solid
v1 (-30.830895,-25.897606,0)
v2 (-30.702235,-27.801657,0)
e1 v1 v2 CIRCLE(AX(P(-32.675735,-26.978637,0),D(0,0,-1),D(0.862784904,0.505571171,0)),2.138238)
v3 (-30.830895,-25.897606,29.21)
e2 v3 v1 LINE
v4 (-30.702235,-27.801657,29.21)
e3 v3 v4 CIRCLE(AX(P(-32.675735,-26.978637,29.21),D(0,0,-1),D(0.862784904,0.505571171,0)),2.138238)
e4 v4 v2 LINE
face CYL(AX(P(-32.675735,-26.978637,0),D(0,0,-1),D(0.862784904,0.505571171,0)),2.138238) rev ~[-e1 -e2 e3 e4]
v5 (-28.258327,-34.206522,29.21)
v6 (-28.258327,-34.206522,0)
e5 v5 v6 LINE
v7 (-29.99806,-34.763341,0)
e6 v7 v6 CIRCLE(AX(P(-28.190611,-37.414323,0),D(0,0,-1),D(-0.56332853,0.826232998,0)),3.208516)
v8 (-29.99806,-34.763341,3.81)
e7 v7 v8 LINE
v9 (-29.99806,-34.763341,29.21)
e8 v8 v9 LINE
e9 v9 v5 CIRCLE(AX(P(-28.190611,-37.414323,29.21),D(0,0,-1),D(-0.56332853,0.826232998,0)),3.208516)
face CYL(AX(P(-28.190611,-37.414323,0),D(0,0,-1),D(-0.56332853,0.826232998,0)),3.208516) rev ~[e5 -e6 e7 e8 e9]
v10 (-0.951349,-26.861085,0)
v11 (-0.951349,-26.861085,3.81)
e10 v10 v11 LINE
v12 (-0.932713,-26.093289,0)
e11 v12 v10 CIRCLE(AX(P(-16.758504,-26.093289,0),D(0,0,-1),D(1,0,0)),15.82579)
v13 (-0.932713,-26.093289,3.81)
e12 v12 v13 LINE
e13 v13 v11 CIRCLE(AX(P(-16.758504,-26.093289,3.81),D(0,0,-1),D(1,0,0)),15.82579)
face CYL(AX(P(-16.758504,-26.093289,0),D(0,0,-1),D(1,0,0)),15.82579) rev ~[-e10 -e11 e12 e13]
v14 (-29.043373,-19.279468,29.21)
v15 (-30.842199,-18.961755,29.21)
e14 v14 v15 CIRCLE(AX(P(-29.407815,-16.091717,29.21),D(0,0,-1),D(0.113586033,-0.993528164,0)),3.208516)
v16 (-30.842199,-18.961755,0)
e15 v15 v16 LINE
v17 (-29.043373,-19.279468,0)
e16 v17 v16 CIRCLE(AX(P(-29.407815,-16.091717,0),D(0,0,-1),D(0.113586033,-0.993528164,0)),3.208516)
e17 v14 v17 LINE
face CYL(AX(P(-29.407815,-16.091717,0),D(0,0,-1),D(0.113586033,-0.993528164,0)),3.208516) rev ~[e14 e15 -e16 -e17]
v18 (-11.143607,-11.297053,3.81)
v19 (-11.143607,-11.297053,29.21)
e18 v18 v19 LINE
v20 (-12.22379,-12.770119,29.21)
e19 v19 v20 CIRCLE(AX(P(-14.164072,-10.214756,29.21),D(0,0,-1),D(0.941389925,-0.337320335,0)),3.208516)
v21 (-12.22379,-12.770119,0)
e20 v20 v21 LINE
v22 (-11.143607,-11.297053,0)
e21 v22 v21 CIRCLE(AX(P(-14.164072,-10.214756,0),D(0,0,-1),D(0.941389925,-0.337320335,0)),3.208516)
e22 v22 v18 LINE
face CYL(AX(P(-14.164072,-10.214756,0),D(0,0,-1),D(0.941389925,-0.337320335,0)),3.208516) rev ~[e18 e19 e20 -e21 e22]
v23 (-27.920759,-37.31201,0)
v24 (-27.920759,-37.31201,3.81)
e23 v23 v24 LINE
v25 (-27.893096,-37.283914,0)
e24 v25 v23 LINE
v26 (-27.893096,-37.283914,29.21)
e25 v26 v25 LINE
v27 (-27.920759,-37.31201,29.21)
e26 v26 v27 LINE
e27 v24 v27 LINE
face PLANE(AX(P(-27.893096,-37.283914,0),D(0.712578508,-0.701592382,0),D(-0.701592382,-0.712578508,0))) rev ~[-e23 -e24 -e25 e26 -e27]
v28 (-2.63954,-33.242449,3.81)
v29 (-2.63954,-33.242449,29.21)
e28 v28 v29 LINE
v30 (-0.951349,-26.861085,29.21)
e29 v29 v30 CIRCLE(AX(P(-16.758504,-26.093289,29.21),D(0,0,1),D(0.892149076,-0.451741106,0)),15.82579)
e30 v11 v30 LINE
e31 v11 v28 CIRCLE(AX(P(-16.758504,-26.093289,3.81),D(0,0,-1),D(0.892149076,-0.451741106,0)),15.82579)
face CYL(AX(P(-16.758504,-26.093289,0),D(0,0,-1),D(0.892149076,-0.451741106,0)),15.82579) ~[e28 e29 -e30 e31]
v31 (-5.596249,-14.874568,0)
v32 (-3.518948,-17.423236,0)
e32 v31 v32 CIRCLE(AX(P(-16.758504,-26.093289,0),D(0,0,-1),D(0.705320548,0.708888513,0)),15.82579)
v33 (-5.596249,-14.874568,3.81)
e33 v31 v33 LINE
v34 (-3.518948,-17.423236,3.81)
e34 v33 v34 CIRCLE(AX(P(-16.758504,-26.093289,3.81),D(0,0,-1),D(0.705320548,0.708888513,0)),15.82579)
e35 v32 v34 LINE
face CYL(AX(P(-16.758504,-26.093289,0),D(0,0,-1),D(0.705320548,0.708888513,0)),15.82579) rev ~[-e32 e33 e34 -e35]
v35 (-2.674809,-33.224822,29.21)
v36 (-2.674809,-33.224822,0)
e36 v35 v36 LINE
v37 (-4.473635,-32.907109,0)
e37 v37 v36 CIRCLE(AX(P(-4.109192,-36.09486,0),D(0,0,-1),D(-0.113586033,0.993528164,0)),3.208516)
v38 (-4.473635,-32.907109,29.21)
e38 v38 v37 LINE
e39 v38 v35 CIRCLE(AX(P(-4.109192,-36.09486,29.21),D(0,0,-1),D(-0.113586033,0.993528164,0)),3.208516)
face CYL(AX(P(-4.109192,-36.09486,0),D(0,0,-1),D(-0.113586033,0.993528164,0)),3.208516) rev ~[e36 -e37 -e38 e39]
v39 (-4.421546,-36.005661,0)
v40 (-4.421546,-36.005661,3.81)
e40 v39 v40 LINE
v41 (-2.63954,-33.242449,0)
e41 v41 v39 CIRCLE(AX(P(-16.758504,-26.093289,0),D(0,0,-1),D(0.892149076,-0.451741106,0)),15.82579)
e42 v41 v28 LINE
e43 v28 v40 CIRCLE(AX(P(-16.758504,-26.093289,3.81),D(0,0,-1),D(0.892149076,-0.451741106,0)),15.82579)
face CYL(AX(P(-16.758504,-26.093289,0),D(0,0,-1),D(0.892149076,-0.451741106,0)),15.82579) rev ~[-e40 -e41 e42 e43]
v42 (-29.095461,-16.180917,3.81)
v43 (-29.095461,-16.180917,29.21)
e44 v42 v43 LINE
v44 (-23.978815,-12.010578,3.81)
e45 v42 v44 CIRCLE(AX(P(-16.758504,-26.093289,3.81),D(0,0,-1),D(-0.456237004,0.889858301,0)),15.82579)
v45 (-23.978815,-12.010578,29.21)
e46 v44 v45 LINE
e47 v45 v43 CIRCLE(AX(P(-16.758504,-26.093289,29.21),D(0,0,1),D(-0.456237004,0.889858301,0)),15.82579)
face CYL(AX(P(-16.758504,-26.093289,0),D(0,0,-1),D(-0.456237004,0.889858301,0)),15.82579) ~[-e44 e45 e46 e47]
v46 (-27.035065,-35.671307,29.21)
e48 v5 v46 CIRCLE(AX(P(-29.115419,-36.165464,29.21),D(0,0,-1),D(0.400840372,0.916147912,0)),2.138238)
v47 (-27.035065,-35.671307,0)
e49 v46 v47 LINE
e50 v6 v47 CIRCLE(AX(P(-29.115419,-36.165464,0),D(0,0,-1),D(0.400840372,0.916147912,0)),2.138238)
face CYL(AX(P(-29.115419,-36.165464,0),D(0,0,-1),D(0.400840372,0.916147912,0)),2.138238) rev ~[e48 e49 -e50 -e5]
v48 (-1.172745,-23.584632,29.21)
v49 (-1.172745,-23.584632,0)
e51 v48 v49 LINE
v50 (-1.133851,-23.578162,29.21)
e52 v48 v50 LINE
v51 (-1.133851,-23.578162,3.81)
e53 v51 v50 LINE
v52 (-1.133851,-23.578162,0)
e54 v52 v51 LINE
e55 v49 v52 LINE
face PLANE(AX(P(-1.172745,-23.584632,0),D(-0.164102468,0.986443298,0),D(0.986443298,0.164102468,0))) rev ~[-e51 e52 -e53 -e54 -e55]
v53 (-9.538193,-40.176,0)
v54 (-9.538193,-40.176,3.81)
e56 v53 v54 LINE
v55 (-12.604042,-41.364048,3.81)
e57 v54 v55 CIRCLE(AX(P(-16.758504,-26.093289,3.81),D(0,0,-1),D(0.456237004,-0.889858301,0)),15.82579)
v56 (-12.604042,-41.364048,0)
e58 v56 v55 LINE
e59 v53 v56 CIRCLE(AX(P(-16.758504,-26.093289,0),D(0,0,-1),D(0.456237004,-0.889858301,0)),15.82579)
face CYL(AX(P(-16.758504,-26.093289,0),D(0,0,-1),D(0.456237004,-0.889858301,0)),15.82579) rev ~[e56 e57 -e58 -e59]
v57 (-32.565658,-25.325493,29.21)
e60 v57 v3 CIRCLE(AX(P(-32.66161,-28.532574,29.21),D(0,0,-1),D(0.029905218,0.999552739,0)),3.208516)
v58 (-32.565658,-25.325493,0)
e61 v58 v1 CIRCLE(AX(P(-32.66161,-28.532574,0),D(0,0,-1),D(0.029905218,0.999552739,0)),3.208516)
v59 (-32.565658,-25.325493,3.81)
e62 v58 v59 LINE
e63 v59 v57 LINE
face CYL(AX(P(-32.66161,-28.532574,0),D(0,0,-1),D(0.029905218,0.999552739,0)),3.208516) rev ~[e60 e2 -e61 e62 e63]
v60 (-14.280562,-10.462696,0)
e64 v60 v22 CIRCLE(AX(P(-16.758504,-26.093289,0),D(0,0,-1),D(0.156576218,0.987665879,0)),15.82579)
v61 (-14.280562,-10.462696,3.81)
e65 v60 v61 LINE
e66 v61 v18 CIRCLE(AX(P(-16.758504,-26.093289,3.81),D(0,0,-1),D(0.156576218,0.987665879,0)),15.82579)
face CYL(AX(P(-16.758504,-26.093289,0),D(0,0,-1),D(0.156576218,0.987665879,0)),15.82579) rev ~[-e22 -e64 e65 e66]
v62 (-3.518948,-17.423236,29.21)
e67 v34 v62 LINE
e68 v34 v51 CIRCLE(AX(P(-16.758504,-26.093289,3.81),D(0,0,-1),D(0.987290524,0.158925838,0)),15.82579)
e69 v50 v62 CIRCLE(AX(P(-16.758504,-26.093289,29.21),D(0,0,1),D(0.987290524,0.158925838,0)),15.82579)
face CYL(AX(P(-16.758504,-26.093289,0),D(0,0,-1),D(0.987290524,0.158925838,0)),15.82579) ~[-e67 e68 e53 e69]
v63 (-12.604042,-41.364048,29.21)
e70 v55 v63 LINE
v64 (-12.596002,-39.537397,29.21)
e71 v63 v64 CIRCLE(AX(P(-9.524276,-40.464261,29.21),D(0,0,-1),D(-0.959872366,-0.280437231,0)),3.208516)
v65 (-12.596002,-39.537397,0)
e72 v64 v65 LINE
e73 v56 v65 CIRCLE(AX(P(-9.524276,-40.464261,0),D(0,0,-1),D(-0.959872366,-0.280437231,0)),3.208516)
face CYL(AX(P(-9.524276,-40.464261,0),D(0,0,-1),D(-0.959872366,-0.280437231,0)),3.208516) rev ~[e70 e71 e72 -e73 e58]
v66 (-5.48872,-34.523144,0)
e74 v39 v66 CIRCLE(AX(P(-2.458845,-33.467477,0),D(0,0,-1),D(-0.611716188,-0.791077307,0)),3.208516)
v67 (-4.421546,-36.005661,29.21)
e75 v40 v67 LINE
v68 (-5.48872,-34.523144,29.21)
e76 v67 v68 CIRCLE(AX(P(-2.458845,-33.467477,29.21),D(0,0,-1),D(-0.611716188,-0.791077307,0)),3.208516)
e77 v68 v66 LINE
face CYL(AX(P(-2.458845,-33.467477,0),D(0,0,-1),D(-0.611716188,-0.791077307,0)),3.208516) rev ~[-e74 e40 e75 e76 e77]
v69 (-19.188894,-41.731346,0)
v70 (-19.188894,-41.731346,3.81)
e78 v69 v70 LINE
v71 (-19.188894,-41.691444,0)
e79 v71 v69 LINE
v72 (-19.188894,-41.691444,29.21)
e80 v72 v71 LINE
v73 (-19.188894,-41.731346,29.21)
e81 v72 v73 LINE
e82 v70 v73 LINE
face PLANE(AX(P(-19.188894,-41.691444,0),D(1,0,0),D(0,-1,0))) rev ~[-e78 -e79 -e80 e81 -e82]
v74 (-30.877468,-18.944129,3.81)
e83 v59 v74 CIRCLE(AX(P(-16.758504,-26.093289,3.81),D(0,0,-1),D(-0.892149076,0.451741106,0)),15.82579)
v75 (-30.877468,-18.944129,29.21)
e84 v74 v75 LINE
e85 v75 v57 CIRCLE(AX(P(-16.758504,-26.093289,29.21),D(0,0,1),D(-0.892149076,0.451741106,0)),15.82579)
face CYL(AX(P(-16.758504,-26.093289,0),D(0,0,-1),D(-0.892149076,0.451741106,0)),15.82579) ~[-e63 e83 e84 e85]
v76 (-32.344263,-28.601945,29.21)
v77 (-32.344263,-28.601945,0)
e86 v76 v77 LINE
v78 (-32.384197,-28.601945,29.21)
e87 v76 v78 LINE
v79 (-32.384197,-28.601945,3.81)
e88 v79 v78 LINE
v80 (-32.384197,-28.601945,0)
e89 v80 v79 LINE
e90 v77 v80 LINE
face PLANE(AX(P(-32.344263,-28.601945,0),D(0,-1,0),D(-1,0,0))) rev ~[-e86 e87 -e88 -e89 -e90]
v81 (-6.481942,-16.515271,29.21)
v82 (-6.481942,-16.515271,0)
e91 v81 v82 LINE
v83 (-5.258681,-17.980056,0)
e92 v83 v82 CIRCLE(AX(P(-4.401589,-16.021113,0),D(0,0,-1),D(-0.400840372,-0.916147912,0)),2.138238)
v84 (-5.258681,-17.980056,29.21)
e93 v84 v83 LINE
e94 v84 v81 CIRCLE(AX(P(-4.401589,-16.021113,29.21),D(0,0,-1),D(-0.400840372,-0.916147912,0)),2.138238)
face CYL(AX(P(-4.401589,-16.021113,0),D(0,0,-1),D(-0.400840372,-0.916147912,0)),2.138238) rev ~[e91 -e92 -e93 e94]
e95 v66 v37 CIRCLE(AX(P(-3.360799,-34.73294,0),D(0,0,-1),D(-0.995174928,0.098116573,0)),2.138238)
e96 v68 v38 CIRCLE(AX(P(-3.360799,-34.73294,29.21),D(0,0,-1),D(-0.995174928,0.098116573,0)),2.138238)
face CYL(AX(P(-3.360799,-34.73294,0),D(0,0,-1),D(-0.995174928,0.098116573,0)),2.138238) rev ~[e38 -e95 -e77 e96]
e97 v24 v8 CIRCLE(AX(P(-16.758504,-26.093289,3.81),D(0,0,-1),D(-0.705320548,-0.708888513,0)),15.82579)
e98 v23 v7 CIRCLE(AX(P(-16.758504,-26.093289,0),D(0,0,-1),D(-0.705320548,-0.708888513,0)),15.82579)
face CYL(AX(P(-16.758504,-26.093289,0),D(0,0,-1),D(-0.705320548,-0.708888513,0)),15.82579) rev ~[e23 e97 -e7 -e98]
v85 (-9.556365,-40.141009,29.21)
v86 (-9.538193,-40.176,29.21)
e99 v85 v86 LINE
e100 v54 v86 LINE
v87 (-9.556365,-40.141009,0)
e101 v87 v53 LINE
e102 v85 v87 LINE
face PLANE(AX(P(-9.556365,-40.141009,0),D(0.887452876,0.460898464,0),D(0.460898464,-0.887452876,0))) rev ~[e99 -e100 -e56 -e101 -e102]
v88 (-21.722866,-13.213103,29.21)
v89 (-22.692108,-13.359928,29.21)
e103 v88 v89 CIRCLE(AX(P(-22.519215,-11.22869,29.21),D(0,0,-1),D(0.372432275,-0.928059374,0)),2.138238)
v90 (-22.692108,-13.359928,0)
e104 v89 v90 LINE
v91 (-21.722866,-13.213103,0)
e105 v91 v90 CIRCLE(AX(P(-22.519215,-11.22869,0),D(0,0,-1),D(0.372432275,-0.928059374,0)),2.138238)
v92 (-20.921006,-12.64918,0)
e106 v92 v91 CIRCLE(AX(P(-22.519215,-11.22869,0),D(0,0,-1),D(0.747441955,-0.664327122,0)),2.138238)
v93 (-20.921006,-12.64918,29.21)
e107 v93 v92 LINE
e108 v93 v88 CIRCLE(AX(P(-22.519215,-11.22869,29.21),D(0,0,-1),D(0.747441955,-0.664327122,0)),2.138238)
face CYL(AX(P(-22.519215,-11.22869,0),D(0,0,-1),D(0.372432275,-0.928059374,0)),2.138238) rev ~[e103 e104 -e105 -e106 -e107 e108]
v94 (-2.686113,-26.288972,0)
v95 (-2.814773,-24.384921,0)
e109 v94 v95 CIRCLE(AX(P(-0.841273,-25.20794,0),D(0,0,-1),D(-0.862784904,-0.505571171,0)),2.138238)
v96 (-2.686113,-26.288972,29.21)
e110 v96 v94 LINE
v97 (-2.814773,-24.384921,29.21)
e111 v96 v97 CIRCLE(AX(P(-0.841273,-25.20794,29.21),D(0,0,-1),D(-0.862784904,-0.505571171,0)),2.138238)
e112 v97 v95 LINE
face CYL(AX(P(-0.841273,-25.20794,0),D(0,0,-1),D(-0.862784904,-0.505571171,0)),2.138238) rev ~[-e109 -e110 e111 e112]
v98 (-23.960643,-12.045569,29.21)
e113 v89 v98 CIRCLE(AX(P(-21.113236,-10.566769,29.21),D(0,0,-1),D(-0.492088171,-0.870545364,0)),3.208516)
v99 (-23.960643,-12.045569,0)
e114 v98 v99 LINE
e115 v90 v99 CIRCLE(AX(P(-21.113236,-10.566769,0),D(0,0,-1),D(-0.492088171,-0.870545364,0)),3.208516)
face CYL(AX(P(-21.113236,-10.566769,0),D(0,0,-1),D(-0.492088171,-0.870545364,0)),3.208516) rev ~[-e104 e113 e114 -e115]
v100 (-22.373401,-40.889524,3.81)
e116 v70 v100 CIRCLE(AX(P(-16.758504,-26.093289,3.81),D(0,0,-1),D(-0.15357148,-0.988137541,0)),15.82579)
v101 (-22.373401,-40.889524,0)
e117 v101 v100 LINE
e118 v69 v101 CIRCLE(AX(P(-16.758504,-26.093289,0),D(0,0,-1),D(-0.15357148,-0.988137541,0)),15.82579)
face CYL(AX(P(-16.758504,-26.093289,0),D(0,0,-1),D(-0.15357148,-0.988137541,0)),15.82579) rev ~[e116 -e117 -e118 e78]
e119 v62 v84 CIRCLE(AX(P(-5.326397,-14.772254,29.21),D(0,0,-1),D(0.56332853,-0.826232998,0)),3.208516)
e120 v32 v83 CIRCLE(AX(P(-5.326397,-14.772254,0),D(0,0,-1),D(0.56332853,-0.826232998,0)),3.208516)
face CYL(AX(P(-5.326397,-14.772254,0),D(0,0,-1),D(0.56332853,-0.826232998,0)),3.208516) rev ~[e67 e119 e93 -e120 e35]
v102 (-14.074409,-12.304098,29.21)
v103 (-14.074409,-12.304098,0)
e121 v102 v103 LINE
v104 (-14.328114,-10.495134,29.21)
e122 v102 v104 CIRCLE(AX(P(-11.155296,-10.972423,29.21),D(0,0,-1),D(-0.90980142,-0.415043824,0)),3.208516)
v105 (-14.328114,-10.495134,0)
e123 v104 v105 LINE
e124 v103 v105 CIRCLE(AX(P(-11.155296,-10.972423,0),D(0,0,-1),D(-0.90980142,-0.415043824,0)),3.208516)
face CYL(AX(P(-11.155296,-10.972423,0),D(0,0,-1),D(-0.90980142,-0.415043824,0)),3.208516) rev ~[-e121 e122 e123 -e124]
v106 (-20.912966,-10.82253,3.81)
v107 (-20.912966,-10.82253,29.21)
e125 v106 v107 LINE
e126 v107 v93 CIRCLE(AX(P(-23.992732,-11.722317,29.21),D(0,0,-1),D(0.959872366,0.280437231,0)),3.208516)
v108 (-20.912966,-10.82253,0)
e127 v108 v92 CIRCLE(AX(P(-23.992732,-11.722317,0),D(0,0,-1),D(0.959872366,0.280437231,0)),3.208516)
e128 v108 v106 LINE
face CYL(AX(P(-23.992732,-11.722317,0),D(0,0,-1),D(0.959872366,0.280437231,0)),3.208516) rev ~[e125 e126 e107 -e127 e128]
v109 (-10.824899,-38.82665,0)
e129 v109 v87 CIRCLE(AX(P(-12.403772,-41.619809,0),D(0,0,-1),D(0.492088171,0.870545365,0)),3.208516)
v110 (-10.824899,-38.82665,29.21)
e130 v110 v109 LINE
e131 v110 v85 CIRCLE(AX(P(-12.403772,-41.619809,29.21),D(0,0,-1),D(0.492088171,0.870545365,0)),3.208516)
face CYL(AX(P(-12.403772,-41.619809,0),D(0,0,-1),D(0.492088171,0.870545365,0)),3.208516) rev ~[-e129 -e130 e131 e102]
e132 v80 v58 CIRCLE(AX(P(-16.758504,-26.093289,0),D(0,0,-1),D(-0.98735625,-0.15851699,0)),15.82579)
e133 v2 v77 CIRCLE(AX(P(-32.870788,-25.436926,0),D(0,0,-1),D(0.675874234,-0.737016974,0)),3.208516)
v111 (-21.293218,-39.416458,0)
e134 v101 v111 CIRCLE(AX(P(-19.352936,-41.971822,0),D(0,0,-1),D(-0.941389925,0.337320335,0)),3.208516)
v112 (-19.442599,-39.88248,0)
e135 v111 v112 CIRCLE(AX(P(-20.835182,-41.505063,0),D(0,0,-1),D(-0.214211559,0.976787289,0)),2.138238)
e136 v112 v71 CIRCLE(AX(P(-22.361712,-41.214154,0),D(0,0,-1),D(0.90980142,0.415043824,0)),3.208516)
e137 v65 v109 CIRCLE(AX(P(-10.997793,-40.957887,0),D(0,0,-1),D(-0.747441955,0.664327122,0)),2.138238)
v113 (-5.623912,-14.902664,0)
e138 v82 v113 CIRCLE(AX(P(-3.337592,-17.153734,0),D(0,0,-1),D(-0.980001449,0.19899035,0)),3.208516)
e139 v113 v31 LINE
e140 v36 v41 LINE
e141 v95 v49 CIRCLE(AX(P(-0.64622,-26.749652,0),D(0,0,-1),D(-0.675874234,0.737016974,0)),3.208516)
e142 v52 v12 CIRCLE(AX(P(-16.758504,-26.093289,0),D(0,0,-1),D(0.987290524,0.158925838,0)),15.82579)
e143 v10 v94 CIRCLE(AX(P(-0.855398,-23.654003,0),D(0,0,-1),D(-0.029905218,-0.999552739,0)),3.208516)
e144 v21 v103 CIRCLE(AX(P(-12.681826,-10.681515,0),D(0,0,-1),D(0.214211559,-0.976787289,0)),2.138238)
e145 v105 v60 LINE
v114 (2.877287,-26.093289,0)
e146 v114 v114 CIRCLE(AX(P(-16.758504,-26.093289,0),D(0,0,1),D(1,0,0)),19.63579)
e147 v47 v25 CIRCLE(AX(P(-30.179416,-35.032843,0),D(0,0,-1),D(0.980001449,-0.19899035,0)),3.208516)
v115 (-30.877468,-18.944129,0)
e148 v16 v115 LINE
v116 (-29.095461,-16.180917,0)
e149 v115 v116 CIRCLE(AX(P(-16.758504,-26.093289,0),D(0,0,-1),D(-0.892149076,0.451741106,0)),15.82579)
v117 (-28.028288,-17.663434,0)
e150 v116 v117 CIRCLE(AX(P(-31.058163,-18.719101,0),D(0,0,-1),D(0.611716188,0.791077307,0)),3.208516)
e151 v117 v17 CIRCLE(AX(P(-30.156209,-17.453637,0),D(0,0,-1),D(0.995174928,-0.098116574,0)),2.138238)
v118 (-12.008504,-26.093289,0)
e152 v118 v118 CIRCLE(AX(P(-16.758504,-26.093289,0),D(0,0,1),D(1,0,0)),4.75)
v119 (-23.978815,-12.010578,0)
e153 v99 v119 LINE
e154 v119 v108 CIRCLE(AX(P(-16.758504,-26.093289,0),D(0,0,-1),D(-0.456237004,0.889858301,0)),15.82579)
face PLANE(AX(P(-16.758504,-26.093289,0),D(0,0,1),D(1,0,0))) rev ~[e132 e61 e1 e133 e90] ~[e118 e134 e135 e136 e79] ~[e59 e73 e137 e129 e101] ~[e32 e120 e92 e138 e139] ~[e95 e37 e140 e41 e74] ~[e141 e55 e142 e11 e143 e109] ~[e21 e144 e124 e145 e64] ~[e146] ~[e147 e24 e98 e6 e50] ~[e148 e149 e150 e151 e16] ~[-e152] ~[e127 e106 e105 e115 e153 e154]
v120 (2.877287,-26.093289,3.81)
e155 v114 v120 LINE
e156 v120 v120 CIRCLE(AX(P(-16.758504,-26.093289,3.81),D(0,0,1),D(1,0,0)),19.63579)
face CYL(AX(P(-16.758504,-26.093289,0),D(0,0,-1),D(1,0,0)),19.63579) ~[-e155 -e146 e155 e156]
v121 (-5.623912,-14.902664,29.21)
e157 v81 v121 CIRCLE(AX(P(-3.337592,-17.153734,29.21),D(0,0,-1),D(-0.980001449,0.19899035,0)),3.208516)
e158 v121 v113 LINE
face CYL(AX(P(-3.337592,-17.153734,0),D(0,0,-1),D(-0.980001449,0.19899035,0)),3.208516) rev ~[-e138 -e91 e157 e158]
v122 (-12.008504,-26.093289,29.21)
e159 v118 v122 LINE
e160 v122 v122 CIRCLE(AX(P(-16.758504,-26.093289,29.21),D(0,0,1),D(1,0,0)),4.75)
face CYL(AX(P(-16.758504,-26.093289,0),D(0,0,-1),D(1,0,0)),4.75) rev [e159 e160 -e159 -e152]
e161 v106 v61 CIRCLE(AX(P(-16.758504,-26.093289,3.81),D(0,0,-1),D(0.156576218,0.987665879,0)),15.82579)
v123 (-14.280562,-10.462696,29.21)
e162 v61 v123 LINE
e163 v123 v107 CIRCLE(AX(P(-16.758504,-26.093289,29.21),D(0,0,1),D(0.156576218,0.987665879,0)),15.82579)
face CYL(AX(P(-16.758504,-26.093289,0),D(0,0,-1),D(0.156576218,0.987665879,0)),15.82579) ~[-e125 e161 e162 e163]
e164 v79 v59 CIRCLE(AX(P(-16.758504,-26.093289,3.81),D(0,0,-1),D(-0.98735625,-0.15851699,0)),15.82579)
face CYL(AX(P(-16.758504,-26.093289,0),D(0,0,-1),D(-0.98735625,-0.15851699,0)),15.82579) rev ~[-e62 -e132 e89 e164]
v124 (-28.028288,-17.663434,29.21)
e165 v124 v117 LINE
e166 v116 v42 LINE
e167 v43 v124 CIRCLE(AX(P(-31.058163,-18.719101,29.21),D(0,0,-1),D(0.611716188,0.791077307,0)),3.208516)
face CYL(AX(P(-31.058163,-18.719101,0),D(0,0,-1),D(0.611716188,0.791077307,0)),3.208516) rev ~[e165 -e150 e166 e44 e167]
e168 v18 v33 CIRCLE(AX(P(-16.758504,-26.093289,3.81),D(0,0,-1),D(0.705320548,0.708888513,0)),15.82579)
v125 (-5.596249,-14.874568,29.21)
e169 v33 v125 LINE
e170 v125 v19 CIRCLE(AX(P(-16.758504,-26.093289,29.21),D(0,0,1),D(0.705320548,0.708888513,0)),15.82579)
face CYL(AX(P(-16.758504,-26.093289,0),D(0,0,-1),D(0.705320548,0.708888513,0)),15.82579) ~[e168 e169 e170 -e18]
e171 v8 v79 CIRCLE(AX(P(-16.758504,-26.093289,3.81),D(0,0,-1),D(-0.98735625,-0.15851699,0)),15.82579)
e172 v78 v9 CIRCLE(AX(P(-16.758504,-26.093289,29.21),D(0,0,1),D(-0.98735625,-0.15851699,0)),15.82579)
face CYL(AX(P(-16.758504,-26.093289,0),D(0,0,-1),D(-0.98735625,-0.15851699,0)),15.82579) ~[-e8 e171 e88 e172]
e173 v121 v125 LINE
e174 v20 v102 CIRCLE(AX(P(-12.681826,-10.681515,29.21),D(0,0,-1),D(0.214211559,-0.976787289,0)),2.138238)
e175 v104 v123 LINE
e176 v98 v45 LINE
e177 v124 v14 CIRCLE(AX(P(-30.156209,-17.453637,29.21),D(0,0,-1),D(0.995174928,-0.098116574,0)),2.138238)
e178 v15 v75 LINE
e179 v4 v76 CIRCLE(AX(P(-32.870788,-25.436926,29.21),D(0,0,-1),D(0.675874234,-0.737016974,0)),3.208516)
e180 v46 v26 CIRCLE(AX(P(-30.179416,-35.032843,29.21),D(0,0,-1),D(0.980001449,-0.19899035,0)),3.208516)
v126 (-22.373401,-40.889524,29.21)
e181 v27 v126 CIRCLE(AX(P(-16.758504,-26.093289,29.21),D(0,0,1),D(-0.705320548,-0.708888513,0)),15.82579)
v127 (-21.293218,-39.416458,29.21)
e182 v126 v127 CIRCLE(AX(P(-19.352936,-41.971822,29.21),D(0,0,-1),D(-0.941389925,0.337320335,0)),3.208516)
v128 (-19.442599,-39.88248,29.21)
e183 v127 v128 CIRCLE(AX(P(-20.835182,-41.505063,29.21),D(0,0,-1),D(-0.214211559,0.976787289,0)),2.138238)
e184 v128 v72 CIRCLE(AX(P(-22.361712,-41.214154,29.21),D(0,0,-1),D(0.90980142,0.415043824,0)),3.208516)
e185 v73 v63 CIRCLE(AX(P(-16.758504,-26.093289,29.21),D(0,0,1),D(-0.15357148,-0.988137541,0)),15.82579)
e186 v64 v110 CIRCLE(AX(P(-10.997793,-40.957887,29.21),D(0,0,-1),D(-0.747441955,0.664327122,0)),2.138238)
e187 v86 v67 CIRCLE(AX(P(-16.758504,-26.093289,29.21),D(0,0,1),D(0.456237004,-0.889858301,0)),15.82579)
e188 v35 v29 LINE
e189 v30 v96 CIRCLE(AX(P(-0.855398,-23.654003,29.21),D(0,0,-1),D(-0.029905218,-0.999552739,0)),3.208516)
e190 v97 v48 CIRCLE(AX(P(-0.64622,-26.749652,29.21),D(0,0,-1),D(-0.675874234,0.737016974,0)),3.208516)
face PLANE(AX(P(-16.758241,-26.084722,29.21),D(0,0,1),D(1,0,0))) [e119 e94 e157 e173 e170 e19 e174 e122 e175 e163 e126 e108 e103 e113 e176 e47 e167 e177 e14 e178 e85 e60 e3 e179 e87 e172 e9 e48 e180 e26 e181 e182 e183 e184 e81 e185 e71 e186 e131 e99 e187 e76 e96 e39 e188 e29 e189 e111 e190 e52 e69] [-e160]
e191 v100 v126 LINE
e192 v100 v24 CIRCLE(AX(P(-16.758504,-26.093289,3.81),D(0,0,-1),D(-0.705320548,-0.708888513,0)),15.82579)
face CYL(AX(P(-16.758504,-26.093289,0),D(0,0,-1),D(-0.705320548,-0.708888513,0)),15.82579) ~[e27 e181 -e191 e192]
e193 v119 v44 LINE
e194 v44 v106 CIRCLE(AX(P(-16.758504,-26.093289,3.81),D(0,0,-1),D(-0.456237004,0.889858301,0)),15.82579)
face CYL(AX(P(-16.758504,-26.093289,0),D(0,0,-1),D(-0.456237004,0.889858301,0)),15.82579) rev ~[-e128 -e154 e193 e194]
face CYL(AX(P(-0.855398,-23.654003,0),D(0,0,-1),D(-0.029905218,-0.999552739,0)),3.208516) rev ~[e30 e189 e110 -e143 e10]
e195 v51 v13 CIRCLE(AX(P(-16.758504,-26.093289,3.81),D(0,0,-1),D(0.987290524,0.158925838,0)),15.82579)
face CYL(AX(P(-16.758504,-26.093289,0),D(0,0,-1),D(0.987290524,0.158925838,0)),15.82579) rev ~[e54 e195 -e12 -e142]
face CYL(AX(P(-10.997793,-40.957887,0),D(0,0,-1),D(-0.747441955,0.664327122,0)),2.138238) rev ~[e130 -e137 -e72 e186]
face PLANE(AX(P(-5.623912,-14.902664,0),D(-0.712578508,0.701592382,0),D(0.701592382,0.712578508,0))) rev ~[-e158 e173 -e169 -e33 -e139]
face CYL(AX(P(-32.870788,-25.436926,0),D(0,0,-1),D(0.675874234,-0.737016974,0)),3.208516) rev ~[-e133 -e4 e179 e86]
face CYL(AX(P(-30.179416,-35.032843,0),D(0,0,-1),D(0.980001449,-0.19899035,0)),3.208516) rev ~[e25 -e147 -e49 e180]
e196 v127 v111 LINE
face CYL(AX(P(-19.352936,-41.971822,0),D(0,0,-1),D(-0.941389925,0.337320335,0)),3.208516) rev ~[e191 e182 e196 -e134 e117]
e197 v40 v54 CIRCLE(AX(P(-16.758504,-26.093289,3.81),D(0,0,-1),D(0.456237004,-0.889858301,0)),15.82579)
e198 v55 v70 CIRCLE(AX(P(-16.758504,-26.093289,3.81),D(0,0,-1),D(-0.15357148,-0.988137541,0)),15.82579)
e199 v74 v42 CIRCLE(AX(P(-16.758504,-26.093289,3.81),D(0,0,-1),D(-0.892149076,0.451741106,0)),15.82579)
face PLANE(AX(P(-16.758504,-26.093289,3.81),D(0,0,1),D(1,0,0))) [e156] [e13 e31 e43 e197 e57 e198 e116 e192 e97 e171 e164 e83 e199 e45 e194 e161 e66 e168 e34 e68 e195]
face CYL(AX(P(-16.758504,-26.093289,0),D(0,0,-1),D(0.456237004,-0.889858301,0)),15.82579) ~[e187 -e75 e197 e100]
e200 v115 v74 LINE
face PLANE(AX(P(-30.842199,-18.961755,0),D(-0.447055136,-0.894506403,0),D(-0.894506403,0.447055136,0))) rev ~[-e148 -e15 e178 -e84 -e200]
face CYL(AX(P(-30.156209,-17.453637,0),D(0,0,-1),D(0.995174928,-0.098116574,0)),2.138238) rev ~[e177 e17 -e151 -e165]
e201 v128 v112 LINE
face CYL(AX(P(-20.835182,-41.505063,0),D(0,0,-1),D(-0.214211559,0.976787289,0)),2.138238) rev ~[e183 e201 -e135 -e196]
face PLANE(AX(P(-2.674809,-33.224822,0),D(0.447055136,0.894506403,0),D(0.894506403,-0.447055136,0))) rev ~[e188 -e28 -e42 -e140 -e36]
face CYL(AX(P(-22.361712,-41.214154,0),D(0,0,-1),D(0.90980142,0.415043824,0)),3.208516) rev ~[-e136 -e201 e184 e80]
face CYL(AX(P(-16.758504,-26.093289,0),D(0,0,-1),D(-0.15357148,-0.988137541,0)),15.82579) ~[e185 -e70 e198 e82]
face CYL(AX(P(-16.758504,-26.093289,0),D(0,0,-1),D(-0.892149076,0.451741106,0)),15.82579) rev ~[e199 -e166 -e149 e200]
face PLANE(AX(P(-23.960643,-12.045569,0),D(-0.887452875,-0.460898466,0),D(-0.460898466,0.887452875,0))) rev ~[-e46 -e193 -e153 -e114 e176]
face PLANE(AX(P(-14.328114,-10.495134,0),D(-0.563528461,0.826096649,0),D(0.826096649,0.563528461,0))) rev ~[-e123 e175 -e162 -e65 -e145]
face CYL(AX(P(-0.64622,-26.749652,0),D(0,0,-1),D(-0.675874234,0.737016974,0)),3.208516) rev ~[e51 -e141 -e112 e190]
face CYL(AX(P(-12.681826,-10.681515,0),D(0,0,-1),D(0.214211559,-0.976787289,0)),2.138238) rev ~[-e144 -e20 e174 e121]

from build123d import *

# Parameters (mm, degrees)
F0_R     = 19.635790459
F0_R_2   = 12.015790459
F0_R_3   = 4.75
F1_DEPTH = 3.81
F2_DEPTH = 29.21


with BuildPart() as f1:
    # F0 (on Top) → F1 (new body)
    with BuildSketch(Plane.XY):
        with Locations((-16.7585039379, -26.0932887787)):
            Circle(F0_R)
        with BuildLine():
            ThreePointArc((-29.0954614281, -16.180916533), (-26.7569848864, -13.826014331), (-23.9788151651, -12.0105777671))
            ThreePointArc((-23.9788151651, -12.0105777671), (-22.476828118, -11.336716947), (-20.9129659851, -10.8225295065))
            ThreePointArc((-20.9129659851, -10.8225295065), (-17.6158542996, -10.2907385412), (-14.2805615256, -10.4626955381))
            ThreePointArc((-14.2805615256, -10.4626955381), (-12.6906360083, -10.7992345693), (-11.1436072451, -11.2970534879))
            ThreePointArc((-11.1436072451, -11.2970534879), (-8.1813331682, -12.7933720406), (-5.5962487371, -14.874567707))
            ThreePointArc((-5.5962487371, -14.874567707), (-4.4912294901, -16.0948078302), (-3.5189481983, -17.4232364448))
            ThreePointArc((-3.5189481983, -17.4232364448), (-2.0019321061, -20.3749645986), (-1.1338509893, -23.5781617659))
            ThreePointArc((-1.1338509893, -23.5781617659), (-0.9830779973, -24.8317103835), (-0.9327134788, -26.0932887787))
            ThreePointArc((-0.9327134788, -26.0932887787), (-0.9373731571, -26.4772998105), (-0.9513494481, -26.8610847091))
            ThreePointArc((-0.9513494481, -26.8610847091), (-1.4590399264, -30.1407626347), (-2.6395396055, -33.2424488576))
            ThreePointArc((-2.6395396055, -33.2424488576), (-3.4585871997, -34.6704595484), (-4.4215464476, -36.0056610244))
            ThreePointArc((-4.4215464476, -36.0056610244), (-6.7600229894, -38.3605632264), (-9.5381927107, -40.1759997903))
            ThreePointArc((-9.5381927107, -40.1759997903), (-11.0401797578, -40.8498606104), (-12.6040418906, -41.364048051))
            ThreePointArc((-12.6040418906, -41.364048051), (-15.8771225924, -41.8945169138), (-19.1888940058, -41.7313464513))
            ThreePointArc((-19.1888940058, -41.7313464513), (-20.8031084916, -41.3935115763), (-22.3734006307, -40.8895240696))
            ThreePointArc((-22.3734006307, -40.8895240696), (-25.3356747075, -39.3932055169), (-27.9207591387, -37.3120098505))
            ThreePointArc((-27.9207591387, -37.3120098505), (-29.0257783856, -36.0917697272), (-29.9980596774, -34.7633411126))
            ThreePointArc((-29.9980596774, -34.7633411126), (-31.5162594242, -31.8085575091), (-32.3841970537, -28.6019454517))
            ThreePointArc((-32.3841970537, -28.6019454517), (-32.5600786241, -26.968435103), (-32.5656584276, -25.3254928483))
            ThreePointArc((-32.5656584276, -25.3254928483), (-32.0579679493, -22.0458149227), (-30.8774682703, -18.9441286998))
            ThreePointArc((-30.8774682703, -18.9441286998), (-30.058420676, -17.516118009), (-29.0954614281, -16.180916533))
        make_face(mode=Mode.SUBTRACT)
        with BuildLine():
            ThreePointArc((-22.6921084548, -13.3599276036), (-23.4218873645, -12.7949300931), (-23.9606425579, -12.0455688415))
            Line((-23.9606425579, -12.0455688415), (-23.9788151651, -12.0105777671))
            ThreePointArc((-23.9788151651, -12.0105777671), (-26.7569848864, -13.826014331), (-29.0954614281, -16.180916533))
            ThreePointArc((-29.0954614281, -16.180916533), (-28.4541428865, -16.8446257856), (-28.0282875658, -17.6634338766))
            ThreePointArc((-28.0282875658, -17.6634338766), (-28.345540736, -18.5909782757), (-29.0433727408, -19.2794684205))
            ThreePointArc((-29.0433727408, -19.2794684205), (-29.9658734851, -19.2513291133), (-30.8421990848, -18.9617554831))
            Line((-30.8421990848, -18.9617554831), (-30.8774682703, -18.9441286998))
            ThreePointArc((-30.8774682703, -18.9441286998), (-32.0579679493, -22.0458149227), (-32.5656584276, -25.3254928483))
            ThreePointArc((-32.5656584276, -25.3254928483), (-31.6567023181, -25.4854873322), (-30.8308948063, -25.8976055158))
            ThreePointArc((-30.8308948063, -25.8976055158), (-30.5423610938, -26.8344814324), (-30.7022346915, -27.801657021))
            ThreePointArc((-30.7022346915, -27.801657021), (-31.4650933407, -28.321124176), (-32.3442627527, -28.6019454517))
            Line((-32.3442627527, -28.6019454517), (-32.3841970537, -28.6019454517))
            ThreePointArc((-32.3841970537, -28.6019454517), (-31.5162594242, -31.8085575091), (-29.9980596774, -34.7633411126))
            ThreePointArc((-29.9980596774, -34.7633411126), (-29.1686563396, -34.3585083729), (-28.2583270379, -34.2065215104))
            ThreePointArc((-28.2583270379, -34.2065215104), (-27.4742165141, -34.7948741876), (-27.0350654242, -35.6713070183))
            ThreePointArc((-27.0350654242, -35.6713070183), (-27.346895903, -36.5399618383), (-27.8930962938, -37.2839138374))
            Line((-27.8930962938, -37.2839138374), (-27.9207591387, -37.3120098505))
            ThreePointArc((-27.9207591387, -37.3120098505), (-25.3356747075, -39.3932055169), (-22.3734006307, -40.8895240696))
            ThreePointArc((-22.3734006307, -40.8895240696), (-21.9403539493, -40.0744964531), (-21.29321771, -39.4164583602))
            ThreePointArc((-21.29321771, -39.4164583602), (-20.3130339439, -39.4315570726), (-19.4425989567, -39.8824795929))
            ThreePointArc((-19.4425989567, -39.8824795929), (-19.1842926208, -40.7685254612), (-19.1888940058, -41.691443806))
            Line((-19.1888940058, -41.691443806), (-19.1888940058, -41.7313464513))
            ThreePointArc((-19.1888940058, -41.7313464513), (-15.8771225924, -41.8945169138), (-12.6040418906, -41.364048051))
            ThreePointArc((-12.6040418906, -41.364048051), (-12.7327609791, -40.4501384055), (-12.5960018504, -39.5373972677))
            ThreePointArc((-12.5960018504, -39.5373972677), (-11.7941417255, -38.9734748204), (-10.824899421, -38.8266499539))
            ThreePointArc((-10.824899421, -38.8266499539), (-10.0951205112, -39.3916474643), (-9.5563653178, -40.1410087159))
            Line((-9.5563653178, -40.1410087159), (-9.5381927107, -40.1759997903))
            ThreePointArc((-9.5381927107, -40.1759997903), (-6.7600229894, -38.3605632264), (-4.4215464476, -36.0056610244))
            ThreePointArc((-4.4215464476, -36.0056610244), (-5.0628649893, -35.3419517718), (-5.4887203099, -34.5231436809))
            ThreePointArc((-5.4887203099, -34.5231436809), (-5.1714671398, -33.5955992817), (-4.4736351349, -32.907109137))
            ThreePointArc((-4.4736351349, -32.907109137), (-3.5511343906, -32.9352484441), (-2.674808791, -33.2248220743))
            Line((-2.674808791, -33.2248220743), (-2.6395396055, -33.2424488576))
            ThreePointArc((-2.6395396055, -33.2424488576), (-1.4590399264, -30.1407626347), (-0.9513494481, -26.8610847091))
            ThreePointArc((-0.9513494481, -26.8610847091), (-1.8603055576, -26.7010902252), (-2.6861130695, -26.2889720416))
            ThreePointArc((-2.6861130695, -26.2889720416), (-2.974646782, -25.352096125), (-2.8147731843, -24.3849205364))
            ThreePointArc((-2.8147731843, -24.3849205364), (-2.051914535, -23.8654533814), (-1.172745123, -23.5846321057))
            Line((-1.172745123, -23.5846321057), (-1.1338509893, -23.5781617659))
            ThreePointArc((-1.1338509893, -23.5781617659), (-2.0019321061, -20.3749645986), (-3.5189481983, -17.4232364448))
            ThreePointArc((-3.5189481983, -17.4232364448), (-4.3483515361, -17.8280691845), (-5.2586808378, -17.980056047))
            ThreePointArc((-5.2586808378, -17.980056047), (-6.0427913617, -17.3917033698), (-6.4819424515, -16.5152705392))
            ThreePointArc((-6.4819424515, -16.5152705392), (-6.1701119728, -15.6466157191), (-5.6239115819, -14.90266372))
            Line((-5.6239115819, -14.90266372), (-5.5962487371, -14.874567707))
            ThreePointArc((-5.5962487371, -14.874567707), (-8.1813331682, -12.7933720406), (-11.1436072451, -11.2970534879))
            ThreePointArc((-11.1436072451, -11.2970534879), (-11.5766539265, -12.1120811043), (-12.2237901657, -12.7701191972))
            ThreePointArc((-12.2237901657, -12.7701191972), (-13.2039739318, -12.7550204848), (-14.0744089191, -12.3040979645))
            ThreePointArc((-14.0744089191, -12.3040979645), (-14.332715255, -11.4180520962), (-14.3281138699, -10.4951337515))
            Line((-14.3281138699, -10.4951337515), (-14.2805615256, -10.4626955381))
            ThreePointArc((-14.2805615256, -10.4626955381), (-17.6158542996, -10.2907385412), (-20.9129659851, -10.8225295065))
            ThreePointArc((-20.9129659851, -10.8225295065), (-20.7842468966, -11.736439152), (-20.9210060254, -12.6491802897))
            ThreePointArc((-20.9210060254, -12.6491802897), (-21.2891829215, -12.9777143323), (-21.7228661502, -13.213102737))
            ThreePointArc((-21.7228661502, -13.213102737), (-22.1989595709, -13.3428097096), (-22.6921084548, -13.3599276036))
        make_face()
        with Locations((-16.7585039379, -26.0932887787)):
            Circle(F0_R_2, mode=Mode.SUBTRACT)
        with Locations((-16.7585039379, -26.0932887787)):
            Circle(F0_R_2)
        with Locations((-16.7585039379, -26.0932887787)):
            Circle(F0_R_3, mode=Mode.SUBTRACT)
    extrude(amount=F1_DEPTH)

    # F0 (on Top) → F2 (join)
    with BuildSketch(Plane.XY):
        with BuildLine():
            ThreePointArc((-22.6921084548, -13.3599276036), (-23.4218873645, -12.7949300931), (-23.9606425579, -12.0455688415))
            Line((-23.9606425579, -12.0455688415), (-23.9788151651, -12.0105777671))
            ThreePointArc((-23.9788151651, -12.0105777671), (-26.7569848864, -13.826014331), (-29.0954614281, -16.180916533))
            ThreePointArc((-29.0954614281, -16.180916533), (-28.4541428865, -16.8446257856), (-28.0282875658, -17.6634338766))
            ThreePointArc((-28.0282875658, -17.6634338766), (-28.345540736, -18.5909782757), (-29.0433727408, -19.2794684205))
            ThreePointArc((-29.0433727408, -19.2794684205), (-29.9658734851, -19.2513291133), (-30.8421990848, -18.9617554831))
            Line((-30.8421990848, -18.9617554831), (-30.8774682703, -18.9441286998))
            ThreePointArc((-30.8774682703, -18.9441286998), (-32.0579679493, -22.0458149227), (-32.5656584276, -25.3254928483))
            ThreePointArc((-32.5656584276, -25.3254928483), (-31.6567023181, -25.4854873322), (-30.8308948063, -25.8976055158))
            ThreePointArc((-30.8308948063, -25.8976055158), (-30.5423610938, -26.8344814324), (-30.7022346915, -27.801657021))
            ThreePointArc((-30.7022346915, -27.801657021), (-31.4650933407, -28.321124176), (-32.3442627527, -28.6019454517))
            Line((-32.3442627527, -28.6019454517), (-32.3841970537, -28.6019454517))
            ThreePointArc((-32.3841970537, -28.6019454517), (-31.5162594242, -31.8085575091), (-29.9980596774, -34.7633411126))
            ThreePointArc((-29.9980596774, -34.7633411126), (-29.1686563396, -34.3585083729), (-28.2583270379, -34.2065215104))
            ThreePointArc((-28.2583270379, -34.2065215104), (-27.4742165141, -34.7948741876), (-27.0350654242, -35.6713070183))
            ThreePointArc((-27.0350654242, -35.6713070183), (-27.346895903, -36.5399618383), (-27.8930962938, -37.2839138374))
            Line((-27.8930962938, -37.2839138374), (-27.9207591387, -37.3120098505))
            ThreePointArc((-27.9207591387, -37.3120098505), (-25.3356747075, -39.3932055169), (-22.3734006307, -40.8895240696))
            ThreePointArc((-22.3734006307, -40.8895240696), (-21.9403539493, -40.0744964531), (-21.29321771, -39.4164583602))
            ThreePointArc((-21.29321771, -39.4164583602), (-20.3130339439, -39.4315570726), (-19.4425989567, -39.8824795929))
            ThreePointArc((-19.4425989567, -39.8824795929), (-19.1842926208, -40.7685254612), (-19.1888940058, -41.691443806))
            Line((-19.1888940058, -41.691443806), (-19.1888940058, -41.7313464513))
            ThreePointArc((-19.1888940058, -41.7313464513), (-15.8771225924, -41.8945169138), (-12.6040418906, -41.364048051))
            ThreePointArc((-12.6040418906, -41.364048051), (-12.7327609791, -40.4501384055), (-12.5960018504, -39.5373972677))
            ThreePointArc((-12.5960018504, -39.5373972677), (-11.7941417255, -38.9734748204), (-10.824899421, -38.8266499539))
            ThreePointArc((-10.824899421, -38.8266499539), (-10.0951205112, -39.3916474643), (-9.5563653178, -40.1410087159))
            Line((-9.5563653178, -40.1410087159), (-9.5381927107, -40.1759997903))
            ThreePointArc((-9.5381927107, -40.1759997903), (-6.7600229894, -38.3605632264), (-4.4215464476, -36.0056610244))
            ThreePointArc((-4.4215464476, -36.0056610244), (-5.0628649893, -35.3419517718), (-5.4887203099, -34.5231436809))
            ThreePointArc((-5.4887203099, -34.5231436809), (-5.1714671398, -33.5955992817), (-4.4736351349, -32.907109137))
            ThreePointArc((-4.4736351349, -32.907109137), (-3.5511343906, -32.9352484441), (-2.674808791, -33.2248220743))
            Line((-2.674808791, -33.2248220743), (-2.6395396055, -33.2424488576))
            ThreePointArc((-2.6395396055, -33.2424488576), (-1.4590399264, -30.1407626347), (-0.9513494481, -26.8610847091))
            ThreePointArc((-0.9513494481, -26.8610847091), (-1.8603055576, -26.7010902252), (-2.6861130695, -26.2889720416))
            ThreePointArc((-2.6861130695, -26.2889720416), (-2.974646782, -25.352096125), (-2.8147731843, -24.3849205364))
            ThreePointArc((-2.8147731843, -24.3849205364), (-2.051914535, -23.8654533814), (-1.172745123, -23.5846321057))
            Line((-1.172745123, -23.5846321057), (-1.1338509893, -23.5781617659))
            ThreePointArc((-1.1338509893, -23.5781617659), (-2.0019321061, -20.3749645986), (-3.5189481983, -17.4232364448))
            ThreePointArc((-3.5189481983, -17.4232364448), (-4.3483515361, -17.8280691845), (-5.2586808378, -17.980056047))
            ThreePointArc((-5.2586808378, -17.980056047), (-6.0427913617, -17.3917033698), (-6.4819424515, -16.5152705392))
            ThreePointArc((-6.4819424515, -16.5152705392), (-6.1701119728, -15.6466157191), (-5.6239115819, -14.90266372))
            Line((-5.6239115819, -14.90266372), (-5.5962487371, -14.874567707))
            ThreePointArc((-5.5962487371, -14.874567707), (-8.1813331682, -12.7933720406), (-11.1436072451, -11.2970534879))
            ThreePointArc((-11.1436072451, -11.2970534879), (-11.5766539265, -12.1120811043), (-12.2237901657, -12.7701191972))
            ThreePointArc((-12.2237901657, -12.7701191972), (-13.2039739318, -12.7550204848), (-14.0744089191, -12.3040979645))
            ThreePointArc((-14.0744089191, -12.3040979645), (-14.332715255, -11.4180520962), (-14.3281138699, -10.4951337515))
            Line((-14.3281138699, -10.4951337515), (-14.2805615256, -10.4626955381))
            ThreePointArc((-14.2805615256, -10.4626955381), (-17.6158542996, -10.2907385412), (-20.9129659851, -10.8225295065))
            ThreePointArc((-20.9129659851, -10.8225295065), (-20.7842468966, -11.736439152), (-20.9210060254, -12.6491802897))
            ThreePointArc((-20.9210060254, -12.6491802897), (-21.2891829215, -12.9777143323), (-21.7228661502, -13.213102737))
            ThreePointArc((-21.7228661502, -13.213102737), (-22.1989595709, -13.3428097096), (-22.6921084548, -13.3599276036))
        make_face()
        with Locations((-16.7585039379, -26.0932887787)):
            Circle(F0_R_2, mode=Mode.SUBTRACT)
        with Locations((-16.7585039379, -26.0932887787)):
            Circle(F0_R_2)
        with Locations((-16.7585039379, -26.0932887787)):
            Circle(F0_R_3, mode=Mode.SUBTRACT)
    extrude(amount=F2_DEPTH)


solid = f1.part
